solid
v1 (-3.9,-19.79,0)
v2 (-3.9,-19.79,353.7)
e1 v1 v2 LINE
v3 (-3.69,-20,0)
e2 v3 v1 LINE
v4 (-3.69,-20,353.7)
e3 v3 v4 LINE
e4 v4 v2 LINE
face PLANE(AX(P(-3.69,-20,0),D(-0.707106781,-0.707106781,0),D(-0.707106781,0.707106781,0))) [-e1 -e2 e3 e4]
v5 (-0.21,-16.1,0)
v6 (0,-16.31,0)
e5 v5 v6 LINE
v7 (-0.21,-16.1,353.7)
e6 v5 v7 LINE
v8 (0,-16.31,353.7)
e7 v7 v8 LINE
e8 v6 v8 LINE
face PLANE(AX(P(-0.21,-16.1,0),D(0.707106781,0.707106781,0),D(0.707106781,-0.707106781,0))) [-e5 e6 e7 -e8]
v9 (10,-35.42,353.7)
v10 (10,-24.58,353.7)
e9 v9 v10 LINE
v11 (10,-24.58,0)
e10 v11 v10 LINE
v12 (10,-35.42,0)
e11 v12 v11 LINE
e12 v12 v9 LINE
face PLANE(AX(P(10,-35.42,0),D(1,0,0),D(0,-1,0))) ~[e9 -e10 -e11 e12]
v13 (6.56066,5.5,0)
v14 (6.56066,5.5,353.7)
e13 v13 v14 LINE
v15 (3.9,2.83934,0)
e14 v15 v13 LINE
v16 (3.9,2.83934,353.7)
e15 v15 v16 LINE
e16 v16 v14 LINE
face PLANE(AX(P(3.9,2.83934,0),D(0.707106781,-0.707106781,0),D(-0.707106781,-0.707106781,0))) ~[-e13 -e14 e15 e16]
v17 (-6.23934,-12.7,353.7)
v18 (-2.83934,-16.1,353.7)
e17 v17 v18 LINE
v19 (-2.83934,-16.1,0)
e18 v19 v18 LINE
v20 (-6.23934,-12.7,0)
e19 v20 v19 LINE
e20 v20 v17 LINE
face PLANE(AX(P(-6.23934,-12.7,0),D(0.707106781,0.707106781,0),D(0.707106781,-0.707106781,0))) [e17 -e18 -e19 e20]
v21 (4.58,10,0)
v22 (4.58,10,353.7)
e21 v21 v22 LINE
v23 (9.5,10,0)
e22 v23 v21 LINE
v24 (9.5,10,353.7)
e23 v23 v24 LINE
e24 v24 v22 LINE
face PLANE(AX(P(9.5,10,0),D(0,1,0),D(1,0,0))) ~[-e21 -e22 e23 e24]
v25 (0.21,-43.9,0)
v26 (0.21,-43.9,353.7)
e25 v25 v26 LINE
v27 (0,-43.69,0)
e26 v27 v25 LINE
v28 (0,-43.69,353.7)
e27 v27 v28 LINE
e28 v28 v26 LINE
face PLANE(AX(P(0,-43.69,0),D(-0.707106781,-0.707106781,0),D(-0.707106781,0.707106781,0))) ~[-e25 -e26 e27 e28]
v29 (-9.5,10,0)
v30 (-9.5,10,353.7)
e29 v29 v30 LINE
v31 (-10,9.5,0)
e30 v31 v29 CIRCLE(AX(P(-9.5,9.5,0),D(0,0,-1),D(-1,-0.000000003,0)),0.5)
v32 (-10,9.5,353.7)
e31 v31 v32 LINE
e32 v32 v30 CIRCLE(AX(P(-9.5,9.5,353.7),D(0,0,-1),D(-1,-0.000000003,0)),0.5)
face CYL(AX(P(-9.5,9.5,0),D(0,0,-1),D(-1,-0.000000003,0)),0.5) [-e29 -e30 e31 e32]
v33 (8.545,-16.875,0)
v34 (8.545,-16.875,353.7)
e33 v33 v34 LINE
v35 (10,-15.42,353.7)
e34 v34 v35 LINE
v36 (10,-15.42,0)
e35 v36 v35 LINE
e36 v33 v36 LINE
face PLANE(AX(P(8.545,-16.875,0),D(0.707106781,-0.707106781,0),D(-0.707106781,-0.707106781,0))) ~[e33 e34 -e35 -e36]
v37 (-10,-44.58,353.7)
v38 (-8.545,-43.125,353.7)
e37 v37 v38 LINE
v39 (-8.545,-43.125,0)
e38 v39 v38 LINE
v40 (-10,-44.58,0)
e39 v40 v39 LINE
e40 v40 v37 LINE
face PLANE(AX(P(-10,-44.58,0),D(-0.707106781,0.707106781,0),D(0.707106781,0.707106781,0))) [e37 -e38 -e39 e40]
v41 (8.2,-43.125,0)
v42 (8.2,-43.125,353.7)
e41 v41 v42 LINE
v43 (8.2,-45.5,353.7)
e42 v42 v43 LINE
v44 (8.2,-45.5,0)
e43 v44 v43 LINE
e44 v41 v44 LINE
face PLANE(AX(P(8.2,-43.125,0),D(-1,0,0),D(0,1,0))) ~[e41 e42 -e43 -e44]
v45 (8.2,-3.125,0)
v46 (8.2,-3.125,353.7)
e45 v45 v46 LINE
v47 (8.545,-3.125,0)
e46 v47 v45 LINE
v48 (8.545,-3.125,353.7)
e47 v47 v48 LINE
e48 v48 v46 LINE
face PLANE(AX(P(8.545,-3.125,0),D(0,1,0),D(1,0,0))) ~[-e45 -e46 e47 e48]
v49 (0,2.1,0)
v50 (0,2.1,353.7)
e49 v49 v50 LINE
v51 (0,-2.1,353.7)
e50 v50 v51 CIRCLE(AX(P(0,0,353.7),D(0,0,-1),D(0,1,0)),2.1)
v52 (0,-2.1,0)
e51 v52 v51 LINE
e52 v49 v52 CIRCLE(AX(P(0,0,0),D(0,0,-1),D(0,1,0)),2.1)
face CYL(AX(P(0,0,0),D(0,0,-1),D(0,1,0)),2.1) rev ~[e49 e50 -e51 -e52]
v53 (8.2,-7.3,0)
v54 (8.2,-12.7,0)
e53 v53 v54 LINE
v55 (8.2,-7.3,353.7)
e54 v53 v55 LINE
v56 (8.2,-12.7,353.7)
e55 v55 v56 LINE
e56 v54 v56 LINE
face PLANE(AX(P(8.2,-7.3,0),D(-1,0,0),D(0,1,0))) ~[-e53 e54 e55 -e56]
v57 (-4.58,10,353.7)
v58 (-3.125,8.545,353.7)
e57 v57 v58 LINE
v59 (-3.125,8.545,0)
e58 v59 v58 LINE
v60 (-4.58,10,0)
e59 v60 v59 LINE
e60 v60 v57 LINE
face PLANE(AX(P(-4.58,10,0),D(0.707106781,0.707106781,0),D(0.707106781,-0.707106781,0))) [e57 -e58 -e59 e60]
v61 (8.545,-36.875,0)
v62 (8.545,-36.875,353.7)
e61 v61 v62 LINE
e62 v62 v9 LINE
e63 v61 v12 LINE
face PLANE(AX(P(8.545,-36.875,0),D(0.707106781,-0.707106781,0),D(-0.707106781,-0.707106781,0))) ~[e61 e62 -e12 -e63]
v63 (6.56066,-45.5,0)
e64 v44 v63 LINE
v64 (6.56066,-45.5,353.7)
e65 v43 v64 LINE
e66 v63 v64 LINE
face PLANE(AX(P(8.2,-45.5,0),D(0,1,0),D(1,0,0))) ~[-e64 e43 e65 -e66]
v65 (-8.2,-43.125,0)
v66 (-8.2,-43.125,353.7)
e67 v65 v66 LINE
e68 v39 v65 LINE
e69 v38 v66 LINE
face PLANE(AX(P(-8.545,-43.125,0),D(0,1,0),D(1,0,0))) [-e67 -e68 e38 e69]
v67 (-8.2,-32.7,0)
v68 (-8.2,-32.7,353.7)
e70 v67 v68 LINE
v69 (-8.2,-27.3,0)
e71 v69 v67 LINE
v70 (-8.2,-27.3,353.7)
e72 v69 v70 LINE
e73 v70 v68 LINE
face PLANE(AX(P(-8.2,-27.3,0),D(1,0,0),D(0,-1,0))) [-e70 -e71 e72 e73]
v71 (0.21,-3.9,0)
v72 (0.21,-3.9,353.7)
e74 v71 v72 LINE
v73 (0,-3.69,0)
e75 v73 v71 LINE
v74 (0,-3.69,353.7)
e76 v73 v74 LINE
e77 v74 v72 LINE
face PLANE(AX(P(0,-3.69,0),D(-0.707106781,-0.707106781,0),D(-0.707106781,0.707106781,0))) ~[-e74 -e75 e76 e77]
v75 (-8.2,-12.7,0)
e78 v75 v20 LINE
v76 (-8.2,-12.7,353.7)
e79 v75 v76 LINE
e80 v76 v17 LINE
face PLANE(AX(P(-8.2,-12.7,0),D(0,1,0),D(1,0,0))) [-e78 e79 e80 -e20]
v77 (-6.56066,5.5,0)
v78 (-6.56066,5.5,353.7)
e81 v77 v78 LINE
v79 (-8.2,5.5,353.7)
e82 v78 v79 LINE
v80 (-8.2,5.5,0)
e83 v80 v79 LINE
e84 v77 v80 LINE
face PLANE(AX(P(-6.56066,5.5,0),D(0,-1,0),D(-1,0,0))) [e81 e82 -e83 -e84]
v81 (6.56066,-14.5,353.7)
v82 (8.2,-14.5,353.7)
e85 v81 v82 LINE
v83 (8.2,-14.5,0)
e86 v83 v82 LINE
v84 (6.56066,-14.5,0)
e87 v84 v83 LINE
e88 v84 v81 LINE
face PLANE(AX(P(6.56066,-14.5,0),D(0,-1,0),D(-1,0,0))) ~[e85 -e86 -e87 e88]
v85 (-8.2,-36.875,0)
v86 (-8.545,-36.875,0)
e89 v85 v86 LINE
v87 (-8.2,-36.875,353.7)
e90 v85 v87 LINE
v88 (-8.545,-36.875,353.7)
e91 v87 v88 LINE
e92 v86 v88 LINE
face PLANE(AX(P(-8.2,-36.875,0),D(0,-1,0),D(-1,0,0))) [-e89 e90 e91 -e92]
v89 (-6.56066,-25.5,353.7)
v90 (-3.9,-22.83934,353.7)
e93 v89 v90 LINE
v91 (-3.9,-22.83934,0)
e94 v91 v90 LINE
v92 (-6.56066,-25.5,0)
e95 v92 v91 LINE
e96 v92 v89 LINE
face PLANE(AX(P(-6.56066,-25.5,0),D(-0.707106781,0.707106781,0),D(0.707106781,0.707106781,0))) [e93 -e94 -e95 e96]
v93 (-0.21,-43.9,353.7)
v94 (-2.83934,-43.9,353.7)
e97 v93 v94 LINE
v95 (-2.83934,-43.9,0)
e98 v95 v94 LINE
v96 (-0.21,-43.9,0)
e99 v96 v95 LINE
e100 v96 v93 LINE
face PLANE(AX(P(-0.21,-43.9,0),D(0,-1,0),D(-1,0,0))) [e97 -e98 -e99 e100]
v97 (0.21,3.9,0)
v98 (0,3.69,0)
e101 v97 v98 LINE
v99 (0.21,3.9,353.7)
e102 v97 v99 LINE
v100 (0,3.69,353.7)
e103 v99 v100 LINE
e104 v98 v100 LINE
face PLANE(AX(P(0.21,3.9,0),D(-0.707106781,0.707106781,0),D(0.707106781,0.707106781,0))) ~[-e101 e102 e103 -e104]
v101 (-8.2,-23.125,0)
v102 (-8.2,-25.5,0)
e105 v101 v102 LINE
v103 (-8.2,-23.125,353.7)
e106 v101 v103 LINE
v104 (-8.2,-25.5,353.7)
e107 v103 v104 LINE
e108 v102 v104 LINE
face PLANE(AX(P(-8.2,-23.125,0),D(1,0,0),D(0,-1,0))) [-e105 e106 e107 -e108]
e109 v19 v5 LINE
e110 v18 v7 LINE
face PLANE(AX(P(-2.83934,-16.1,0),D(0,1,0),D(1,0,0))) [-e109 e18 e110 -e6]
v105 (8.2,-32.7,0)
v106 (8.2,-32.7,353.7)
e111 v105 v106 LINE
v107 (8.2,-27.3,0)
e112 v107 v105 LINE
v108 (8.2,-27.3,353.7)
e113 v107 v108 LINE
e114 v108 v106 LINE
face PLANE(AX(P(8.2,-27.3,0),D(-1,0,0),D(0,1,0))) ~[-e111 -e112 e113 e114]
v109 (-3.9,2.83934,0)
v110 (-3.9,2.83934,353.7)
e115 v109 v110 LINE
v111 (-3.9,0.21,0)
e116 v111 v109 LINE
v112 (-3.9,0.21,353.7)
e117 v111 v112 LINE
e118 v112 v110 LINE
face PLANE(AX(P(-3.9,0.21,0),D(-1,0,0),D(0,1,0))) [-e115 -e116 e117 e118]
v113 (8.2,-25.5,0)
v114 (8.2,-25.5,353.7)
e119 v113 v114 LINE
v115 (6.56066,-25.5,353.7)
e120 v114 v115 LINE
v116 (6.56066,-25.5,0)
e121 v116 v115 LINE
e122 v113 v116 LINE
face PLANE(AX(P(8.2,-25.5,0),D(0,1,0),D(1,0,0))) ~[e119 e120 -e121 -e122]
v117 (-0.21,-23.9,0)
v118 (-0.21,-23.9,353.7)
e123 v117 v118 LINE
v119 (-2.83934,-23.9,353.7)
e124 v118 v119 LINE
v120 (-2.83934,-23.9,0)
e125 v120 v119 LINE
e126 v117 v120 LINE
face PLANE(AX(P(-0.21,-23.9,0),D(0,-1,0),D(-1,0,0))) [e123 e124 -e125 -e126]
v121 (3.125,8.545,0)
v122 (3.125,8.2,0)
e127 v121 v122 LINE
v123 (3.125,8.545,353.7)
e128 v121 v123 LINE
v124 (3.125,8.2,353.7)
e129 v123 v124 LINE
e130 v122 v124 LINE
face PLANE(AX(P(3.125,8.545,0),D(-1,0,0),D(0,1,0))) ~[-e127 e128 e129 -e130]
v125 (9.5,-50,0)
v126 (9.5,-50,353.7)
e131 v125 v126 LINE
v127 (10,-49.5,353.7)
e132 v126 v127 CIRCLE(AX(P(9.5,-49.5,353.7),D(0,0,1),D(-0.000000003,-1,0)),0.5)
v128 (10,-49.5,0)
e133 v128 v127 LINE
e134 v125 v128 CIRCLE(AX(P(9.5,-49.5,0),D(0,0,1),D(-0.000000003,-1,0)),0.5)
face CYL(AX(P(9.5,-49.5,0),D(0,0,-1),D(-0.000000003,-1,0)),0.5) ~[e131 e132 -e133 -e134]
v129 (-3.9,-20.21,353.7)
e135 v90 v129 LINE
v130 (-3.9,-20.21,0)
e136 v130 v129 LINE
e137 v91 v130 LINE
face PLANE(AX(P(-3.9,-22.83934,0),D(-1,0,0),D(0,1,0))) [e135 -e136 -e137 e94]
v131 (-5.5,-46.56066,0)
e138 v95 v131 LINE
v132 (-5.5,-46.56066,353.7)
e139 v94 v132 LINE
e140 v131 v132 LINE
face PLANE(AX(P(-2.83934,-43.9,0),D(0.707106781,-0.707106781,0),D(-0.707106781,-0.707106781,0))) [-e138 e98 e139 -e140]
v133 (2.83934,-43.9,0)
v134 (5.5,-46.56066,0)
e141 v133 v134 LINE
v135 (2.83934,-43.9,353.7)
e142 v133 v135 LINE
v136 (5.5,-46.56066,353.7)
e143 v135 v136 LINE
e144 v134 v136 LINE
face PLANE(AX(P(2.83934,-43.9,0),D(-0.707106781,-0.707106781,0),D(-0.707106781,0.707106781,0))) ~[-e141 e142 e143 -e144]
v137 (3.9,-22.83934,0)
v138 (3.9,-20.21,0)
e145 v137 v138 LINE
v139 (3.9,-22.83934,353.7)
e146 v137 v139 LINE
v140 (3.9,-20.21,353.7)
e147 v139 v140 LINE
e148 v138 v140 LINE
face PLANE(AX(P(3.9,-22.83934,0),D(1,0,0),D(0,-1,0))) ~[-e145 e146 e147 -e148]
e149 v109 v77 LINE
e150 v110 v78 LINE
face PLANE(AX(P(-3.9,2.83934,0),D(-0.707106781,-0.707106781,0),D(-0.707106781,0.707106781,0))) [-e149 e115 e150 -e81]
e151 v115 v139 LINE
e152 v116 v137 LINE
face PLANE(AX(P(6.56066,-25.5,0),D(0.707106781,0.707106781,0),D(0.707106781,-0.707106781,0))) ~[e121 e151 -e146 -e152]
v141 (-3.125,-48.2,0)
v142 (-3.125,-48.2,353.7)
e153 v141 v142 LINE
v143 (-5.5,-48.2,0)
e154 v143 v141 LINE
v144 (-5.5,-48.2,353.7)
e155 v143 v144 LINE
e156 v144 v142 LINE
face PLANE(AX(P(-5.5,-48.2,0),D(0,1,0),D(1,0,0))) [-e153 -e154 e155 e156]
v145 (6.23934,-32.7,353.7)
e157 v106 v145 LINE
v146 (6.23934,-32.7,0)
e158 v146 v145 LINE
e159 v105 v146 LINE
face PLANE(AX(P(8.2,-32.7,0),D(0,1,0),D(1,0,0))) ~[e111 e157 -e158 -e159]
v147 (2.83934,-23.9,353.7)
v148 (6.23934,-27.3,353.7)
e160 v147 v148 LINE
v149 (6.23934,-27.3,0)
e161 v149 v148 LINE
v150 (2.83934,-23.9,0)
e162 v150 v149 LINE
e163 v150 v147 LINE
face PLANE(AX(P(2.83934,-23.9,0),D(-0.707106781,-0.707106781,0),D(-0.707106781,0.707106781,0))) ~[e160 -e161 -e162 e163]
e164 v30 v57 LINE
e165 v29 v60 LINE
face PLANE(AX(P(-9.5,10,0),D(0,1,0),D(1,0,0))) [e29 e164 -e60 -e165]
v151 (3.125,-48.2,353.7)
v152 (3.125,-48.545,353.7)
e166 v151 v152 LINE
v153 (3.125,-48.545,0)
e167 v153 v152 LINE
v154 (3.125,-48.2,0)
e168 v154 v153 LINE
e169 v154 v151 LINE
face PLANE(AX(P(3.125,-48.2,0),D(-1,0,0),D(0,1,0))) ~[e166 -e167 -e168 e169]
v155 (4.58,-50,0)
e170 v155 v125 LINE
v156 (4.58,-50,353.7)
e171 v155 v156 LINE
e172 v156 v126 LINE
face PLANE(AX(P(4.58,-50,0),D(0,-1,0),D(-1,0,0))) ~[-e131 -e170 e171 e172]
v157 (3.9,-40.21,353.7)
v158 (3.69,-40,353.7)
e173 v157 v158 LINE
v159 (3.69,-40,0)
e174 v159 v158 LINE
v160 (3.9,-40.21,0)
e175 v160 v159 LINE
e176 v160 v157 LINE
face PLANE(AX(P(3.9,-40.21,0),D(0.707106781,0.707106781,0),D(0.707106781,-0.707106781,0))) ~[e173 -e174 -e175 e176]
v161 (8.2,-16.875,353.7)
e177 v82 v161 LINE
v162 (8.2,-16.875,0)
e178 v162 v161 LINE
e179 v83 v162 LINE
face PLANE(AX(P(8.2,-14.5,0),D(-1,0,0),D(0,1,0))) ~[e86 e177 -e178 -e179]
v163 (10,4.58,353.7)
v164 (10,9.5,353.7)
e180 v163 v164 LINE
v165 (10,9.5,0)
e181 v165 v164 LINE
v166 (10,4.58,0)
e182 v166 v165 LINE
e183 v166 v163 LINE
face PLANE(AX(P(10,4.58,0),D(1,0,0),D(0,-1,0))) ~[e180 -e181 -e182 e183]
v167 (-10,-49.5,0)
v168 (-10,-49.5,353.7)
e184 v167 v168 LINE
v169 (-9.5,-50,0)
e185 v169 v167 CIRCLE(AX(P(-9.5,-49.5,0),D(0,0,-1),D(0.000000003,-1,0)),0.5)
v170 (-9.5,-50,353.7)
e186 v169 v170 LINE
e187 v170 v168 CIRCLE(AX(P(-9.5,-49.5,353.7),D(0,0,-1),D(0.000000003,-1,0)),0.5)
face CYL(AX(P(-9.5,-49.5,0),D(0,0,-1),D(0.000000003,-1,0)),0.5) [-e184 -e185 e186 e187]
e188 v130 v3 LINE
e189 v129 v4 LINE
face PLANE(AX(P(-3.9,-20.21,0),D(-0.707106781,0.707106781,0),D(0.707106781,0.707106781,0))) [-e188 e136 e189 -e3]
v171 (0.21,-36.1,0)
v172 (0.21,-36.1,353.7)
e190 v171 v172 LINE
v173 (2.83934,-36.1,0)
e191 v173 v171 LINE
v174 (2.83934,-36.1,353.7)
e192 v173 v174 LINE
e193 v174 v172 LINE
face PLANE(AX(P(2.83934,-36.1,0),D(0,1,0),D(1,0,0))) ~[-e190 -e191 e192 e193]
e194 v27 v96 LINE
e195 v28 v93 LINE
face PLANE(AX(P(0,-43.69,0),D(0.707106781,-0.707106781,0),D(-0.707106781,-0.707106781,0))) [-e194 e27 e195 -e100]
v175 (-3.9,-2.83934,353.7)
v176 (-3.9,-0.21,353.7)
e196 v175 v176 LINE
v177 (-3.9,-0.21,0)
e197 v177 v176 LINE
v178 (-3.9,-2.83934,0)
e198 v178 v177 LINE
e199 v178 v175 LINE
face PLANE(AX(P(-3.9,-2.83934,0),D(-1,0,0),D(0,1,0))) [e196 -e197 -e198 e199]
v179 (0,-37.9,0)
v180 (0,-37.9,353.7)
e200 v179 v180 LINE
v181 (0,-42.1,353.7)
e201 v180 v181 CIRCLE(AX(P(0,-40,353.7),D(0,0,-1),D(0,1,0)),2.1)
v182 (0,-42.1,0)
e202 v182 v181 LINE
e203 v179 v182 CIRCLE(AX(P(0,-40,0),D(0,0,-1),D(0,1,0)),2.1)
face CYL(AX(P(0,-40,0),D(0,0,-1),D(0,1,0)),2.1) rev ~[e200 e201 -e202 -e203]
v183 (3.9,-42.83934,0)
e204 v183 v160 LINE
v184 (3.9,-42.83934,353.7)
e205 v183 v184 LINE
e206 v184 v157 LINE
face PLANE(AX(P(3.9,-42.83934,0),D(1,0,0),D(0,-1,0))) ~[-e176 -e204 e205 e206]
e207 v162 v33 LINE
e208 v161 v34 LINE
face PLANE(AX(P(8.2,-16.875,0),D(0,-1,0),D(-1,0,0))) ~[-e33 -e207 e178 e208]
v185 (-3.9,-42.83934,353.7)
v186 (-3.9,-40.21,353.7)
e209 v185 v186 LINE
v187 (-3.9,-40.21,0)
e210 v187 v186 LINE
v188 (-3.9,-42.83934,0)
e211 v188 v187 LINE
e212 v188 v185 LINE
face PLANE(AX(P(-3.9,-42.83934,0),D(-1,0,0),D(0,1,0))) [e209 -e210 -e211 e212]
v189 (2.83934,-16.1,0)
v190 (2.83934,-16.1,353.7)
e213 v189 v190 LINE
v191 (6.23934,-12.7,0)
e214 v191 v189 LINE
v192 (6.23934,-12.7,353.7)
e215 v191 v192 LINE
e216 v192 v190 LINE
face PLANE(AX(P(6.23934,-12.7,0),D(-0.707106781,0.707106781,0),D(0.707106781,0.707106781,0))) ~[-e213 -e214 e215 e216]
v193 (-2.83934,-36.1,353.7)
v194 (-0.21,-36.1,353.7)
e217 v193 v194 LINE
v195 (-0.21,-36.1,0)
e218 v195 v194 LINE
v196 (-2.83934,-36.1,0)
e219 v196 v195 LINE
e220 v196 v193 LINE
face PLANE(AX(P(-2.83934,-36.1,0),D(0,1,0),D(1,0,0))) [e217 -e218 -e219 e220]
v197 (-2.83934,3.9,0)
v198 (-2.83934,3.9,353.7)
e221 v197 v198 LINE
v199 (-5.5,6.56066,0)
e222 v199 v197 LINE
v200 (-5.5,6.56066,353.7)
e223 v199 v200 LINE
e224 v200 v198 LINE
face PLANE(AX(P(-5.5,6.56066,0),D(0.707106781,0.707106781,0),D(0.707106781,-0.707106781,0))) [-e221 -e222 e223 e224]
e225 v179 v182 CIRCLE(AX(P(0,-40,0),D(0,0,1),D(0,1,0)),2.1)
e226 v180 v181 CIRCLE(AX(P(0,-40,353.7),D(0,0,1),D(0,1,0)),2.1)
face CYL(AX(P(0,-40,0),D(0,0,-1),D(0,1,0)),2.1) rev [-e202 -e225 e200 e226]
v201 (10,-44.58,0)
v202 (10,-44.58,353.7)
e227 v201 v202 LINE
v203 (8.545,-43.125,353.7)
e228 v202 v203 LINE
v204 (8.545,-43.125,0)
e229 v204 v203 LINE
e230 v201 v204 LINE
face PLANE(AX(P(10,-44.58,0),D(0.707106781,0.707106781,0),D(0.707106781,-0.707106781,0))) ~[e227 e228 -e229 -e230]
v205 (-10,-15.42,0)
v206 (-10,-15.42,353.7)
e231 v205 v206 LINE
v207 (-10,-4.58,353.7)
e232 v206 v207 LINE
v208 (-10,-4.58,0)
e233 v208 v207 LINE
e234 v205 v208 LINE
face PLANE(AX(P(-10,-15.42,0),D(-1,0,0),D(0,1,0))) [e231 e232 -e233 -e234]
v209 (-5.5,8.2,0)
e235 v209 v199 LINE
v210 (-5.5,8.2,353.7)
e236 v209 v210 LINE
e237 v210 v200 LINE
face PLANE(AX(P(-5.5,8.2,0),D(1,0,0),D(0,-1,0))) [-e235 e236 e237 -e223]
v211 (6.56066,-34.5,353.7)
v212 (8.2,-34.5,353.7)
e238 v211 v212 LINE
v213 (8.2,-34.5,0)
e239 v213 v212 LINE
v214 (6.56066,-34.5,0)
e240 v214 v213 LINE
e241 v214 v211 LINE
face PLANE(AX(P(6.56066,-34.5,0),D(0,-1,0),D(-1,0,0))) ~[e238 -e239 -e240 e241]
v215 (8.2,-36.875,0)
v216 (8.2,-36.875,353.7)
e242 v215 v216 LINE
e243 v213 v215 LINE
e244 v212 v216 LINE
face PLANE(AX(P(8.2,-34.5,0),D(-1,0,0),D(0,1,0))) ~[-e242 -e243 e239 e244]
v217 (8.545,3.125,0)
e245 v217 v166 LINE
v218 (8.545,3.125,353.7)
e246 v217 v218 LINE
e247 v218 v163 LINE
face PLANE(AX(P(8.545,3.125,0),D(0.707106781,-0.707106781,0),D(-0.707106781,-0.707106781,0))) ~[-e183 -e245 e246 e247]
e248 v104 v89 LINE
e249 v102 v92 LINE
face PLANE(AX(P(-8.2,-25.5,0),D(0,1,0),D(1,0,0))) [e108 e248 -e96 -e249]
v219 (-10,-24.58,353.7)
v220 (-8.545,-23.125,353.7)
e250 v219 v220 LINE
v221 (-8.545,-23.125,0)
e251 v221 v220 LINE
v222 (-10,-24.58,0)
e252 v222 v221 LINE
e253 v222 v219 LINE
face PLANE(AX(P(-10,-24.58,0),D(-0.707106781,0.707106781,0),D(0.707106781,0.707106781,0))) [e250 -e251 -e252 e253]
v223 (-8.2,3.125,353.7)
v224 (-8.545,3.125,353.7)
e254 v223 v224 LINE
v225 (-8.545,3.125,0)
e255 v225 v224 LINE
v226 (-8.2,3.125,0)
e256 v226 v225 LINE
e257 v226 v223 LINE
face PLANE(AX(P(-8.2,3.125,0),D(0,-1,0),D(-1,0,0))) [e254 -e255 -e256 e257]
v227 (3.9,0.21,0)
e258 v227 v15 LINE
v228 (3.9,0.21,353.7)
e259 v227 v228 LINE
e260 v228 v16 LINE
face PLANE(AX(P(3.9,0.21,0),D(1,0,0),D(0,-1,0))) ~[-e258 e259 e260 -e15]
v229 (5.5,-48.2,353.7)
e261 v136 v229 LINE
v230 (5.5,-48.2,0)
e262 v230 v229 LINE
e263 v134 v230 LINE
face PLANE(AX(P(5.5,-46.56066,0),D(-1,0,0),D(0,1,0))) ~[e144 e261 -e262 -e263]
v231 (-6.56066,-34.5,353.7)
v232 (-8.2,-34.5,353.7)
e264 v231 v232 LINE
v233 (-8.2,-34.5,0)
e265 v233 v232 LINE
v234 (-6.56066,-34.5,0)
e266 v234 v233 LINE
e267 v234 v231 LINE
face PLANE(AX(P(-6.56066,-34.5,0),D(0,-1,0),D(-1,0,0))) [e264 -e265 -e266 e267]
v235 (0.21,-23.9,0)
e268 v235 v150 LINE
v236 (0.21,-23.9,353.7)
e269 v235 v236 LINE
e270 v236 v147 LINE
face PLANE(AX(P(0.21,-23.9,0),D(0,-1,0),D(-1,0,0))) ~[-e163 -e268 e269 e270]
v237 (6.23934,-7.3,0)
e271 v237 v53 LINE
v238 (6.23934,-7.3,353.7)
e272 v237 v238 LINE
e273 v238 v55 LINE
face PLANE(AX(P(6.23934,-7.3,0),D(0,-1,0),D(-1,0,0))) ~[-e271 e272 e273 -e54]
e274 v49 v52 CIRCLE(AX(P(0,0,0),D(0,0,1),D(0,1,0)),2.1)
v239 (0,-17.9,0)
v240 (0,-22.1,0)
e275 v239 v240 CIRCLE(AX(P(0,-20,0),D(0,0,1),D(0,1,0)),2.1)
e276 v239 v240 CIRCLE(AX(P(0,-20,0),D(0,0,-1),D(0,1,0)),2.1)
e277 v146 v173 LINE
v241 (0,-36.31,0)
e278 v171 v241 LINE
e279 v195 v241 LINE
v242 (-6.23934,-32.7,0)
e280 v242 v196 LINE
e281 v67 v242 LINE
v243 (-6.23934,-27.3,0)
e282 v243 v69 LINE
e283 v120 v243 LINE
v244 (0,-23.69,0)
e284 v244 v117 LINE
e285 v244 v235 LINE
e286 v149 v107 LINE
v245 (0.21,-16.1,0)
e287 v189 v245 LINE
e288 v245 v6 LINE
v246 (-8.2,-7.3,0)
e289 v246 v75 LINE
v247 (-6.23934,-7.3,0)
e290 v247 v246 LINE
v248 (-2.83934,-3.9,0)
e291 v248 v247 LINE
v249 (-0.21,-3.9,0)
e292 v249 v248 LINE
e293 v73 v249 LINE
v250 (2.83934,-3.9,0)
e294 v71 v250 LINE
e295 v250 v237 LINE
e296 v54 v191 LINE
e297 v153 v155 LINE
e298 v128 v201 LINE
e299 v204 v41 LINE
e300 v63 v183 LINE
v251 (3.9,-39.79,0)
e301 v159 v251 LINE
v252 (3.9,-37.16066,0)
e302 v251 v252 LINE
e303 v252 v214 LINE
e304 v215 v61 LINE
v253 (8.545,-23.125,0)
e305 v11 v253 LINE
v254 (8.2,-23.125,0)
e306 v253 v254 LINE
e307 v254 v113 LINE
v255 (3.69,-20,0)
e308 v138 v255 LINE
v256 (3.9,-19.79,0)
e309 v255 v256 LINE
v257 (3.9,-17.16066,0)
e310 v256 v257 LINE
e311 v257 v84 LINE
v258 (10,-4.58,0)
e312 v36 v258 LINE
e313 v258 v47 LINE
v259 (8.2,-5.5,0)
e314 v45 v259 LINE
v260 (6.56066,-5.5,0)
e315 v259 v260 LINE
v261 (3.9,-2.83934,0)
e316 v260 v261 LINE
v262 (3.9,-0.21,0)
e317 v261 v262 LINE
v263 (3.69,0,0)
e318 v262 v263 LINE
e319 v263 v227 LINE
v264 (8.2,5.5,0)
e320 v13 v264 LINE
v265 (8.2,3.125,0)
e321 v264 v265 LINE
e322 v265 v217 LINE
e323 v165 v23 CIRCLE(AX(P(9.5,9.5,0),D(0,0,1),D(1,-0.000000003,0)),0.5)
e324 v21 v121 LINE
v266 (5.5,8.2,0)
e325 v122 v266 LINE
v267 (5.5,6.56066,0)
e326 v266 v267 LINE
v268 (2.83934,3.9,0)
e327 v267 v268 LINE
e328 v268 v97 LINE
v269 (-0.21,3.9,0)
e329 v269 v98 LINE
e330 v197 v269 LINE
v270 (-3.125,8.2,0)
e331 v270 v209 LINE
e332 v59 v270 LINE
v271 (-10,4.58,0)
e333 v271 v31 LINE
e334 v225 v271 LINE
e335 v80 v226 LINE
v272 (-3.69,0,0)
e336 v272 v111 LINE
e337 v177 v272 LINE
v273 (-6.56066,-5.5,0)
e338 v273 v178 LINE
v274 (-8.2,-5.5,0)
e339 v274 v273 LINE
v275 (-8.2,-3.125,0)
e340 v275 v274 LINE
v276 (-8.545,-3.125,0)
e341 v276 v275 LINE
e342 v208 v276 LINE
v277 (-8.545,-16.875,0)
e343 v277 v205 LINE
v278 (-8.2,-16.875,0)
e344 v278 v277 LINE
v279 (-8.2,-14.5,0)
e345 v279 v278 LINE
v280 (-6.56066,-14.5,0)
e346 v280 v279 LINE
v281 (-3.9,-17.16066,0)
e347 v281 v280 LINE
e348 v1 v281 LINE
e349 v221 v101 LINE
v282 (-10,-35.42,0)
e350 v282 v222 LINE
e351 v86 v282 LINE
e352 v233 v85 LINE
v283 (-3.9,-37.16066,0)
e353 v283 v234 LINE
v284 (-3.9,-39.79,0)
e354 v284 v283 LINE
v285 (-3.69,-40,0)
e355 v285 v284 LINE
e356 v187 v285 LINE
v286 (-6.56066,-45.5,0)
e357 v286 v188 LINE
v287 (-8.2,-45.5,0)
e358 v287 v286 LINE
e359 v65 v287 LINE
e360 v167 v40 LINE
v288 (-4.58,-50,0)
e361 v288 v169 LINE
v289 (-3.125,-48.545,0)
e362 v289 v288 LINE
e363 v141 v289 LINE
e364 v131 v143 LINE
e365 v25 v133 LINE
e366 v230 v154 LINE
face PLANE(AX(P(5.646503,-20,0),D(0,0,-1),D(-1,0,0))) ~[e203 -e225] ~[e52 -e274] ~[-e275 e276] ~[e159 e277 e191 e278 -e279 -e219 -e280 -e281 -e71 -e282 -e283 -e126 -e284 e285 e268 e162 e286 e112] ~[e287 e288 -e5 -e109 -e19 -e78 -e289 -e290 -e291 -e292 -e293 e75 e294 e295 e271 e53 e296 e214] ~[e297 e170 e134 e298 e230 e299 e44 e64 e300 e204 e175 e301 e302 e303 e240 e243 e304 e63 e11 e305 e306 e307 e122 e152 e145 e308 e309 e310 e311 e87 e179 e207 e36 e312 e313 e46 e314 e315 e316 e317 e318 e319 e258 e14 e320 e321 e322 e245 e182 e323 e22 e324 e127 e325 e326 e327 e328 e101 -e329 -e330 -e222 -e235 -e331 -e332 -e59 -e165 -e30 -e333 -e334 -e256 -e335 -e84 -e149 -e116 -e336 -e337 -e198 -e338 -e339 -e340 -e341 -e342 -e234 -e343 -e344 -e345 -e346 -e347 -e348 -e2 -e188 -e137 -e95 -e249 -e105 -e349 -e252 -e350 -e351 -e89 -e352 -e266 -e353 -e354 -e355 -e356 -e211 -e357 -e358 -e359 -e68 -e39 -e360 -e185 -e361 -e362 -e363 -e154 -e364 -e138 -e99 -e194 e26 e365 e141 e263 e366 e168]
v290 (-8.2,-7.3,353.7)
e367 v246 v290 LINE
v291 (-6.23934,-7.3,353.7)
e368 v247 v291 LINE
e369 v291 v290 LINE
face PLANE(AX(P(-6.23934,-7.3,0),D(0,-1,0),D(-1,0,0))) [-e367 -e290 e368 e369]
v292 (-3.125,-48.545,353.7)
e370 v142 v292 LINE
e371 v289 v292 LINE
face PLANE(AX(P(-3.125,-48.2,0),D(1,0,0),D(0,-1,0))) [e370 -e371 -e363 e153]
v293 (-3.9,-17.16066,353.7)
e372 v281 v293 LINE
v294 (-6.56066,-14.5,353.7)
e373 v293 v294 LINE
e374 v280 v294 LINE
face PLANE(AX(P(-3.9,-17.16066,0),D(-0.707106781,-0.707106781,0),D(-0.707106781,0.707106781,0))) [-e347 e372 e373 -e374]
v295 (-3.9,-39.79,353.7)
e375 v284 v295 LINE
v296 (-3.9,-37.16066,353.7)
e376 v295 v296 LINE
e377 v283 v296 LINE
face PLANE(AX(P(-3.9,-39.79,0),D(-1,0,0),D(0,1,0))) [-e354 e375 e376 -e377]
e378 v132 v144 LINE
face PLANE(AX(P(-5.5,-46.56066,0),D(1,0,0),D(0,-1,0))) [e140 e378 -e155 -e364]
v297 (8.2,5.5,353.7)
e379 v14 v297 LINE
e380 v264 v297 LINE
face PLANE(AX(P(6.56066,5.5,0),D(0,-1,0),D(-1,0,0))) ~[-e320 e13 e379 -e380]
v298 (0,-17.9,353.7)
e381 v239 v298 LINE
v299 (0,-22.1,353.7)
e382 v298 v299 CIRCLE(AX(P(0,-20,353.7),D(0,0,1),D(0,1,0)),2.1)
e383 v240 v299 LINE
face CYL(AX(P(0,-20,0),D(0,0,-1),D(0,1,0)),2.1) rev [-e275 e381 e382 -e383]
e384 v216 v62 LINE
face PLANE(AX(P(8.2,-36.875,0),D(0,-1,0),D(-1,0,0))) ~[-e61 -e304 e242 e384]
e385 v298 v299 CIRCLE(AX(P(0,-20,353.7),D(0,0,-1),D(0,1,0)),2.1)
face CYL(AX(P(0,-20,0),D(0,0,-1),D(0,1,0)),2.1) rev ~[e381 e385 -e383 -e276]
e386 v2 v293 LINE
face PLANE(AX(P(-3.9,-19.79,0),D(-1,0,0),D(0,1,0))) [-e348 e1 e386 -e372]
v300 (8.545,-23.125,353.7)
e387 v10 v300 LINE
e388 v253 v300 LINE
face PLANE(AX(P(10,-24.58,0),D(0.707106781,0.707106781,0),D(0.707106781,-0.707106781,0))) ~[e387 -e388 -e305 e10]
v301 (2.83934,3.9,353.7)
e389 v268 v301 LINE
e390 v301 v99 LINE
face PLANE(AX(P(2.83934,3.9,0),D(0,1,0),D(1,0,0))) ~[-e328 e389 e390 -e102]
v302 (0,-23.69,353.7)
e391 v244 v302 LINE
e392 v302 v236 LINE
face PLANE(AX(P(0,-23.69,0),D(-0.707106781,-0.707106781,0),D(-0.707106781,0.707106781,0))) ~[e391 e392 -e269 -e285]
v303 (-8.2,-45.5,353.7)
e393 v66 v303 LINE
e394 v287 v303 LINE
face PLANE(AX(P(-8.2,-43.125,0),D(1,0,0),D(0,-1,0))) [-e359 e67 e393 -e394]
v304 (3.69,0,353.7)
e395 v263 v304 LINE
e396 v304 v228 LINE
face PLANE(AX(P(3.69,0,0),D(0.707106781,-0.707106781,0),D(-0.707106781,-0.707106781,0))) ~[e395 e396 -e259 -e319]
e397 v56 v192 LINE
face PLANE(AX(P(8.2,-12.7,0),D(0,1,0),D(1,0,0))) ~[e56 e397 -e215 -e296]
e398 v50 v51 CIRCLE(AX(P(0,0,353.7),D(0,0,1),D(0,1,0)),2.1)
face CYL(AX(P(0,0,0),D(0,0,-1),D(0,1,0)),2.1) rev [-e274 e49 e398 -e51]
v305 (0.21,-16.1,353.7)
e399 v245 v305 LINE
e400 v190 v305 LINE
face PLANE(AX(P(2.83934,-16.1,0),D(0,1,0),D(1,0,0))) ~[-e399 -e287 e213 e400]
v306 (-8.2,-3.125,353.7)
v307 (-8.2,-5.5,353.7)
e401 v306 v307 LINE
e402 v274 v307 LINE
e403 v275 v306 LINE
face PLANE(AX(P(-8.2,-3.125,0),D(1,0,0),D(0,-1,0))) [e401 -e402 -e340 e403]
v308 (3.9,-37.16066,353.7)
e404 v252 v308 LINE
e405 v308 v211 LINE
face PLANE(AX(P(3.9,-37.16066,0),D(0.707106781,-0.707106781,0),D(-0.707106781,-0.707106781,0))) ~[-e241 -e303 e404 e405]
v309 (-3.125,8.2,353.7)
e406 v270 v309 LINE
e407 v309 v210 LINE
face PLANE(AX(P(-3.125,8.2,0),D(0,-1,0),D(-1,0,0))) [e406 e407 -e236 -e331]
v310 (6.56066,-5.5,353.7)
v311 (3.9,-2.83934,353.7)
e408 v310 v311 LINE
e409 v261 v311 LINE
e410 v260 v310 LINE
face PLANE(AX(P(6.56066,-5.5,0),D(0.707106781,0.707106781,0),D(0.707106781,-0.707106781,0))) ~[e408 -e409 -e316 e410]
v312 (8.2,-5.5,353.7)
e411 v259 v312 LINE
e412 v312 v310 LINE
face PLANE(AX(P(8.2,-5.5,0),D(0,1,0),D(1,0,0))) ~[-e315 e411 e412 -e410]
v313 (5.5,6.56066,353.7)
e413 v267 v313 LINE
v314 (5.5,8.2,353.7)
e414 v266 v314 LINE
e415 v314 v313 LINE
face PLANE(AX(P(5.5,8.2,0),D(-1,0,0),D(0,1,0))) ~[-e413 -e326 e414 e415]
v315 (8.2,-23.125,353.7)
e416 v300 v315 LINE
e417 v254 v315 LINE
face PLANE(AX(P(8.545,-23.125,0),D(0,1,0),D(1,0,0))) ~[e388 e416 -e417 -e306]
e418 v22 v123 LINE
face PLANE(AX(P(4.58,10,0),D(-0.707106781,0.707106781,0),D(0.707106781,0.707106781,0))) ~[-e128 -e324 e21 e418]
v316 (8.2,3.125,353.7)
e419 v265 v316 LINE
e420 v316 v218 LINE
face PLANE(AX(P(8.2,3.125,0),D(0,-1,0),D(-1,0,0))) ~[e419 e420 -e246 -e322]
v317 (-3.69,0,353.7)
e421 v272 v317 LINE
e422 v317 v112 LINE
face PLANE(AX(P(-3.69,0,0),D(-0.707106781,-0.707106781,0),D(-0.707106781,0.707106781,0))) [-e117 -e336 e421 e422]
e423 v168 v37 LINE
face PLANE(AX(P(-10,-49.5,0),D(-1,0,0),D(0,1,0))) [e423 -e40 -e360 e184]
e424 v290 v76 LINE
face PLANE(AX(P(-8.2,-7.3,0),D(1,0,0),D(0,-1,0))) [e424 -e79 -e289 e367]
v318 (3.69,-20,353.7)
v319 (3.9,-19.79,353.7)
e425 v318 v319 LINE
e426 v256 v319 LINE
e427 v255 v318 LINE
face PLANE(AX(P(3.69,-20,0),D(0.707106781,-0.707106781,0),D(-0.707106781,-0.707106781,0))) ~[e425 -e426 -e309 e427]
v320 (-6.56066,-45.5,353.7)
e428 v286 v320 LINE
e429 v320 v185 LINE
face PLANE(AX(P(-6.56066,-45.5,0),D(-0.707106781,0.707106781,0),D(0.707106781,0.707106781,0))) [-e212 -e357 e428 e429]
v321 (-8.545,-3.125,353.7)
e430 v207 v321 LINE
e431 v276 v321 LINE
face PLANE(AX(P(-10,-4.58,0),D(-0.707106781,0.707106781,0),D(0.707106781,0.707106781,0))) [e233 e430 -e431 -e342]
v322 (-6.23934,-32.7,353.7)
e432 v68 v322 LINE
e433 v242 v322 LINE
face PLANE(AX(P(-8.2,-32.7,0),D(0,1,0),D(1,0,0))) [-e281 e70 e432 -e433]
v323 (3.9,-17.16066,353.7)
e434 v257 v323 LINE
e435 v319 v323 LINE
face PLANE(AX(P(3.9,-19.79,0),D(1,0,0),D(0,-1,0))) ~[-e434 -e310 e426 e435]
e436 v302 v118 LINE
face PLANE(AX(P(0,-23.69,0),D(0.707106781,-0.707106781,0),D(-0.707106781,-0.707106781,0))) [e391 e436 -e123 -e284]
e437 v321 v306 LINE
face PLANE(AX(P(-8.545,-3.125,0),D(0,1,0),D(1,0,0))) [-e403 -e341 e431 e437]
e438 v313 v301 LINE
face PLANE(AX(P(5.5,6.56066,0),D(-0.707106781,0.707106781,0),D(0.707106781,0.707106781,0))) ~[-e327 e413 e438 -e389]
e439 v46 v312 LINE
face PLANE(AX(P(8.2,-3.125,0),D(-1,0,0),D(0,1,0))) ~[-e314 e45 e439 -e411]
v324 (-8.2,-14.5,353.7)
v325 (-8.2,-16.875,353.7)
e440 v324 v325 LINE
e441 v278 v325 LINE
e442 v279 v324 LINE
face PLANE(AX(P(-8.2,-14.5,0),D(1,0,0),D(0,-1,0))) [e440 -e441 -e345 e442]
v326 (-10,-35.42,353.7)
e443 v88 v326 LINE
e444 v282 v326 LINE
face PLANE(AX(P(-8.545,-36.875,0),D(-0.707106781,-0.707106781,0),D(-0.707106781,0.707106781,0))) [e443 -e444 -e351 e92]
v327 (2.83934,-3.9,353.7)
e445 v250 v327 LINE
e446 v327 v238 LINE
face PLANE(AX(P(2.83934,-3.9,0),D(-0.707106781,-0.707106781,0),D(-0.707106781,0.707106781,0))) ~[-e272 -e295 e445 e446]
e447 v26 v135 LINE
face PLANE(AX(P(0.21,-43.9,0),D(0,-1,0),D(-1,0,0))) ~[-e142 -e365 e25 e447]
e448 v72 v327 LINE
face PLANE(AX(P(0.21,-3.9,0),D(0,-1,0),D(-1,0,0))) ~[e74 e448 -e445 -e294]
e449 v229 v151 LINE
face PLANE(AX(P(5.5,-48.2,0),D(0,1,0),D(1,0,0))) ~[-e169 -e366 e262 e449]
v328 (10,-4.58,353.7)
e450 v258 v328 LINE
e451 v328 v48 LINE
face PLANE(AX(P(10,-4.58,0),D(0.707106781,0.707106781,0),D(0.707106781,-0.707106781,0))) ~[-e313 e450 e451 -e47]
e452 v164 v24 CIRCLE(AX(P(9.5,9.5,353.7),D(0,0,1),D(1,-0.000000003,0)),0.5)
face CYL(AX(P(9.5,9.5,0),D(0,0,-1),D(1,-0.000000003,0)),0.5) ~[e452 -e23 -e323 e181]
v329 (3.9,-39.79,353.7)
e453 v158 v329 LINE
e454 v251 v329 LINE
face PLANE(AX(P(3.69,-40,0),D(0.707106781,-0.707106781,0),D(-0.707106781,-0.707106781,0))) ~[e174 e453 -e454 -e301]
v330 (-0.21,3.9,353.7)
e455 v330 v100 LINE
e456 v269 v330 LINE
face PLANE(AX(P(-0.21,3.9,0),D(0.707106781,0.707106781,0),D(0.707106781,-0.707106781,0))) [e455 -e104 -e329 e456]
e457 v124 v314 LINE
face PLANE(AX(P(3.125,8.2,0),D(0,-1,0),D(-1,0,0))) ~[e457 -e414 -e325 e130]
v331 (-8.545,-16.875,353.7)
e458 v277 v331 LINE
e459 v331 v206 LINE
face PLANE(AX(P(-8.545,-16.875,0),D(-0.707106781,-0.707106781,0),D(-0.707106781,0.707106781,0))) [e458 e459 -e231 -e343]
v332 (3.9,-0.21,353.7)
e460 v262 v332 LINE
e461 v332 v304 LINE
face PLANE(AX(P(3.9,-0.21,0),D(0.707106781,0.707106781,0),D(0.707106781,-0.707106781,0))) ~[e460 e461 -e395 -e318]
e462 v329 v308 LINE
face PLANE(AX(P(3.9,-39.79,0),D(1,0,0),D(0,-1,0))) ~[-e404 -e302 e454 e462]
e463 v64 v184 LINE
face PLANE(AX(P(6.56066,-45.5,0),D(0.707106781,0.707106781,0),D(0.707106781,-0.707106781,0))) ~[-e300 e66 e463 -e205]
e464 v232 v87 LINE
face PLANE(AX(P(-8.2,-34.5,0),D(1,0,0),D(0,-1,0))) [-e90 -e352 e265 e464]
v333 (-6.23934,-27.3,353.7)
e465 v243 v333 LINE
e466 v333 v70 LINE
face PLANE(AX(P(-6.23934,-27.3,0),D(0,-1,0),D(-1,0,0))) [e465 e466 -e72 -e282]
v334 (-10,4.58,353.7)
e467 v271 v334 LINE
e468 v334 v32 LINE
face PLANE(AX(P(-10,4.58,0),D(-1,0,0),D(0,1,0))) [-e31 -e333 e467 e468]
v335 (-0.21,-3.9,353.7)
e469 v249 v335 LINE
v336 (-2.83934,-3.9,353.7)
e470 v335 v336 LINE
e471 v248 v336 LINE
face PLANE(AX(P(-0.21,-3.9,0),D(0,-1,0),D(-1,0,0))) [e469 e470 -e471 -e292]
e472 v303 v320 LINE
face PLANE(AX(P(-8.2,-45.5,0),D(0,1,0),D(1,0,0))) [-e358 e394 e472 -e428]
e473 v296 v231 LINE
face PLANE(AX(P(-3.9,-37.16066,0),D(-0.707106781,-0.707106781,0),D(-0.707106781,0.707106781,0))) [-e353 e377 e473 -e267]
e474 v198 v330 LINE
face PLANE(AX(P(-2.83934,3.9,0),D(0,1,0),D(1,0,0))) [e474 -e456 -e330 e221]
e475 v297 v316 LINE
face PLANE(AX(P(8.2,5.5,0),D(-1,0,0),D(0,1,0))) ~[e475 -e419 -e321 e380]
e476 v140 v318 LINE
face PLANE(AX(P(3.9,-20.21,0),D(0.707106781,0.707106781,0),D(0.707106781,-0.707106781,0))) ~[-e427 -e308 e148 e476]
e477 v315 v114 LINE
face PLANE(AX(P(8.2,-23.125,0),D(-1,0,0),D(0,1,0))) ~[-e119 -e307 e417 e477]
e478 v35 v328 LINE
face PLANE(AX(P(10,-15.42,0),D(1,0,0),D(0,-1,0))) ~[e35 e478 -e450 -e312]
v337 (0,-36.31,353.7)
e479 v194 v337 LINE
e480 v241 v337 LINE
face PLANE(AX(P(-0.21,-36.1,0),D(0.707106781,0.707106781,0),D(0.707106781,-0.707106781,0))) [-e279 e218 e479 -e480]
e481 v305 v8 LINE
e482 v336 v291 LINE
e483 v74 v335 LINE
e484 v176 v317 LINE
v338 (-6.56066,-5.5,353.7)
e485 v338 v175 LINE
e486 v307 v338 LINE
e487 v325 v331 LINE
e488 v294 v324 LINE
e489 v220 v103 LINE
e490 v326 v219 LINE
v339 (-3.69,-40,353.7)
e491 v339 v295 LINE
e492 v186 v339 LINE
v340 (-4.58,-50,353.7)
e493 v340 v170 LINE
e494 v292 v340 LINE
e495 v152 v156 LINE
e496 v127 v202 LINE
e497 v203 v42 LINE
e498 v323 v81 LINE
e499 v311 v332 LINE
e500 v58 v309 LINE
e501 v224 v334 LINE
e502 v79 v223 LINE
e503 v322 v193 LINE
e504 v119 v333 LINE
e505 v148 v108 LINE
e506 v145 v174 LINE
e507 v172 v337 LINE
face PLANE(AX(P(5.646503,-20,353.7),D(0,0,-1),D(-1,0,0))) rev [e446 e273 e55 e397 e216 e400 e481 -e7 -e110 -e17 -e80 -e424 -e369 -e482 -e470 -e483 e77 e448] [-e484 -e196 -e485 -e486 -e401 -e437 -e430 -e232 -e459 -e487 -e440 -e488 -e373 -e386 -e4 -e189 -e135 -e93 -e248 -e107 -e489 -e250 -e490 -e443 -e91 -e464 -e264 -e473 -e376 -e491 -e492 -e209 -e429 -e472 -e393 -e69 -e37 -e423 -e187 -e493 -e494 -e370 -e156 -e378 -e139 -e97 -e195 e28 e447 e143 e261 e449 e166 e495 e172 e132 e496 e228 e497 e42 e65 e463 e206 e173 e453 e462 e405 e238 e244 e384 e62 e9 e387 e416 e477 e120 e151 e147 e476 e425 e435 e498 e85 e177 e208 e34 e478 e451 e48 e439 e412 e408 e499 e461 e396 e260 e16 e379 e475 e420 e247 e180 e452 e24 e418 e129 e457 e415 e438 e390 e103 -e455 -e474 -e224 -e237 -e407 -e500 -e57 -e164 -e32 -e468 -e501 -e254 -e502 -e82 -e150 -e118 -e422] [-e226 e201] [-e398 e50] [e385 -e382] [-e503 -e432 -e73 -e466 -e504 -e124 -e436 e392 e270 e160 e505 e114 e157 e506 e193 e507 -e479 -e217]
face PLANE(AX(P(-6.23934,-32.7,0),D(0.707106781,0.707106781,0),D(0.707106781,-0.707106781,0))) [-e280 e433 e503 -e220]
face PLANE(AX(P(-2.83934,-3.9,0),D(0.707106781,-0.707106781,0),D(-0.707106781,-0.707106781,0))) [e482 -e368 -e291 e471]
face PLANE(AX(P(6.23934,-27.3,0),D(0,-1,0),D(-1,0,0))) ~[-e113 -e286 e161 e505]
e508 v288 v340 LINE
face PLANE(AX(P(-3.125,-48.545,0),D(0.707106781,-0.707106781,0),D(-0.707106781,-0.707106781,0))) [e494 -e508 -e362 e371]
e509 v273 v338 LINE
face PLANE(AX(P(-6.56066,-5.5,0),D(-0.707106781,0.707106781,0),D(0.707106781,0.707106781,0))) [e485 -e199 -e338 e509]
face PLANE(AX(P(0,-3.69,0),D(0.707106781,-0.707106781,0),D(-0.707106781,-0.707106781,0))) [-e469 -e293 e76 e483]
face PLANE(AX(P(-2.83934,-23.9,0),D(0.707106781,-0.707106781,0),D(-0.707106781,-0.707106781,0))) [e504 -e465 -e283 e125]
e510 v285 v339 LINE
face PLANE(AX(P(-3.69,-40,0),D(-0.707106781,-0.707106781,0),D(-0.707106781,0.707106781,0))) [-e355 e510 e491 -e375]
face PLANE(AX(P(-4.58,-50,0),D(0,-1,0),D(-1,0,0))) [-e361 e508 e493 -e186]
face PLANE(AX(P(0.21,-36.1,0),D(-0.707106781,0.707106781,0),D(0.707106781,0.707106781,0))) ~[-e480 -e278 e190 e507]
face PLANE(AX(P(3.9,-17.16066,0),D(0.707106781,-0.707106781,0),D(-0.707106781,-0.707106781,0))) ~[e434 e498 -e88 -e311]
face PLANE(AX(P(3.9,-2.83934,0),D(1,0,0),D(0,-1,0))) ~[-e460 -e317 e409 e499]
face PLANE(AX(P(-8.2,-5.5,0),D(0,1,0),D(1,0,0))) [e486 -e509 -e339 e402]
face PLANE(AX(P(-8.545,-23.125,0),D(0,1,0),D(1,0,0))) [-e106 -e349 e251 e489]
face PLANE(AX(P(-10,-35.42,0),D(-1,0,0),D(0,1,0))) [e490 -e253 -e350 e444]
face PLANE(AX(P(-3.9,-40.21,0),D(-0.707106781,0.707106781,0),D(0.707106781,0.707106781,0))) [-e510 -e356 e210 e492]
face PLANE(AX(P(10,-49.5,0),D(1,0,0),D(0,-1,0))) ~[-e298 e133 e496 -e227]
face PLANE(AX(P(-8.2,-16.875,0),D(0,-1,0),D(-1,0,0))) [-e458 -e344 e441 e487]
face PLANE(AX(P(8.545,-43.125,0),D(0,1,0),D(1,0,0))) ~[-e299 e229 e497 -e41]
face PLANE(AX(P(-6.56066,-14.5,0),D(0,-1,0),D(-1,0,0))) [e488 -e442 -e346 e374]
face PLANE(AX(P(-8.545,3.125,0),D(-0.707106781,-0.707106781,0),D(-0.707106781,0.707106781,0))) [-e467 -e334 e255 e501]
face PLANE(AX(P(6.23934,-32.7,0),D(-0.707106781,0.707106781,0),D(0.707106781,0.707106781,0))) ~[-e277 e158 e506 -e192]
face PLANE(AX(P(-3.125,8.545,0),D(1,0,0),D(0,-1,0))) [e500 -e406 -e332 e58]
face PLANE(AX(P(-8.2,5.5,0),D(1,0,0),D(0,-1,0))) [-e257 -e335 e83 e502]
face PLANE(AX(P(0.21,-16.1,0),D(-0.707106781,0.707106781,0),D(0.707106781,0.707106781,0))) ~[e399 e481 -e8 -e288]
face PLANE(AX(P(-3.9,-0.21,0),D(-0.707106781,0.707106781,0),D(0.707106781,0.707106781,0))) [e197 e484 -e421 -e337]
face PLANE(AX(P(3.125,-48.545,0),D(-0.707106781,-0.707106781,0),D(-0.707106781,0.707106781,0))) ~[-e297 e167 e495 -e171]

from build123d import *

# Parameters (mm, degrees)
BOSS_EXTRU_1_DEPTH = 353.7


with BuildPart() as part:
    # Esquisse1 → Boss.-Extru.1 (new body)
    with BuildSketch(Plane.XY):
        with BuildLine():
            Line((-9.5, 10), (-4.58, 10))
            Line((-4.58, 10), (-3.125, 8.545))
            Line((-3.125, 8.545), (-3.125, 8.2))
            Line((-3.125, 8.2), (-5.5, 8.2))
            Line((-5.5, 8.2), (-5.5, 6.560660172))
            Line((-5.5, 6.560660172), (-2.839339828, 3.9))
            Line((-2.839339828, 3.9), (-0.21, 3.9))
            Line((-0.21, 3.9), (0, 3.69))
            Line((0, 3.69), (0, 2.1))
            ThreePointArc((0, 2.1), (-2.1, 0), (0, -2.1))
            Line((0, -2.1), (0, -3.69))
            Line((0, -3.69), (-0.21, -3.9))
            Line((-0.21, -3.9), (-2.839339828, -3.9))
            Line((-2.839339828, -3.9), (-6.239339828, -7.3))
            Line((-6.239339828, -7.3), (-8.2, -7.3))
            Line((-8.2, -7.3), (-8.2, -12.7))
            Line((-8.2, -12.7), (-6.239339828, -12.7))
            Line((-6.239339828, -12.7), (-2.839339828, -16.1))
            Line((-2.839339828, -16.1), (-0.21, -16.1))
            Line((-0.21, -16.1), (0, -16.31))
            Line((0, -16.31), (0, -17.9))
            ThreePointArc((0, -17.9), (-2.1, -20), (0, -22.1))
            Line((0, -22.1), (0, -23.69))
            Line((0, -23.69), (-0.21, -23.9))
            Line((-0.21, -23.9), (-2.839339828, -23.9))
            Line((-2.839339828, -23.9), (-6.239339828, -27.3))
            Line((-6.239339828, -27.3), (-8.2, -27.3))
            Line((-8.2, -27.3), (-8.2, -32.7))
            Line((-8.2, -32.7), (-6.239339828, -32.7))
            Line((-6.239339828, -32.7), (-2.839339828, -36.1))
            Line((-2.839339828, -36.1), (-0.21, -36.1))
            Line((-0.21, -36.1), (0, -36.31))
            Line((0, -36.31), (0, -37.9))
            ThreePointArc((0, -37.9), (-2.1, -40), (0, -42.1))
            Line((0, -42.1), (0, -43.69))
            Line((0, -43.69), (-0.21, -43.9))
            Line((-0.21, -43.9), (-2.839339828, -43.9))
            Line((-2.839339828, -43.9), (-5.5, -46.560660172))
            Line((-5.5, -46.560660172), (-5.5, -48.2))
            Line((-5.5, -48.2), (-3.125, -48.2))
            Line((-3.125, -48.2), (-3.125, -48.545))
            Line((-3.125, -48.545), (-4.58, -50))
            Line((-4.58, -50), (-9.5, -50))
            ThreePointArc((-9.5, -50), (-9.853553391, -49.853553391), (-10, -49.5))
            Line((-10, -49.5), (-10, -44.58))
            Line((-10, -44.58), (-8.545, -43.125))
            Line((-8.545, -43.125), (-8.2, -43.125))
            Line((-8.2, -43.125), (-8.2, -45.5))
            Line((-8.2, -45.5), (-6.560660172, -45.5))
            Line((-6.560660172, -45.5), (-3.9, -42.839339828))
            Line((-3.9, -42.839339828), (-3.9, -40.21))
            Line((-3.9, -40.21), (-3.69, -40))
            Line((-3.69, -40), (-3.9, -39.79))
            Line((-3.9, -39.79), (-3.9, -37.160660172))
            Line((-3.9, -37.160660172), (-6.560660172, -34.5))
            Line((-6.560660172, -34.5), (-8.2, -34.5))
            Line((-8.2, -34.5), (-8.2, -36.875))
            Line((-8.2, -36.875), (-8.545, -36.875))
            Line((-8.545, -36.875), (-10, -35.42))
            Line((-10, -35.42), (-10, -24.58))
            Line((-10, -24.58), (-8.545, -23.125))
            Line((-8.545, -23.125), (-8.2, -23.125))
            Line((-8.2, -23.125), (-8.2, -25.5))
            Line((-8.2, -25.5), (-6.560660172, -25.5))
            Line((-6.560660172, -25.5), (-3.9, -22.839339828))
            Line((-3.9, -22.839339828), (-3.9, -20.21))
            Line((-3.9, -20.21), (-3.69, -20))
            Line((-3.69, -20), (-3.9, -19.79))
            Line((-3.9, -19.79), (-3.9, -17.160660172))
            Line((-3.9, -17.160660172), (-6.560660172, -14.5))
            Line((-6.560660172, -14.5), (-8.2, -14.5))
            Line((-8.2, -14.5), (-8.2, -16.875))
            Line((-8.2, -16.875), (-8.545, -16.875))
            Line((-8.545, -16.875), (-10, -15.42))
            Line((-10, -15.42), (-10, -4.58))
            Line((-10, -4.58), (-8.545, -3.125))
            Line((-8.545, -3.125), (-8.2, -3.125))
            Line((-8.2, -3.125), (-8.2, -5.5))
            Line((-8.2, -5.5), (-6.560660172, -5.5))
            Line((-6.560660172, -5.5), (-3.9, -2.839339828))
            Line((-3.9, -2.839339828), (-3.9, -0.21))
            Line((-3.9, -0.21), (-3.69, 0))
            Line((-3.69, 0), (-3.9, 0.21))
            Line((-3.9, 0.21), (-3.9, 2.839339828))
            Line((-3.9, 2.839339828), (-6.560660172, 5.5))
            Line((-6.560660172, 5.5), (-8.2, 5.5))
            Line((-8.2, 5.5), (-8.2, 3.125))
            Line((-8.2, 3.125), (-8.545, 3.125))
            Line((-8.545, 3.125), (-10, 4.58))
            Line((-10, 4.58), (-10, 9.5))
            ThreePointArc((-10, 9.5), (-9.853553391, 9.853553391), (-9.5, 10))
        make_face()
    boss_extru_1 = extrude(amount=BOSS_EXTRU_1_DEPTH)

    # Symétrie1: Boss.-Extru.1 across plane
    add(boss_extru_1.mirror(Plane(origin=(0, 3.69, 353.7), x_dir=(0, 0, 1), z_dir=(-1, 0, 0))))


solid = part.part
